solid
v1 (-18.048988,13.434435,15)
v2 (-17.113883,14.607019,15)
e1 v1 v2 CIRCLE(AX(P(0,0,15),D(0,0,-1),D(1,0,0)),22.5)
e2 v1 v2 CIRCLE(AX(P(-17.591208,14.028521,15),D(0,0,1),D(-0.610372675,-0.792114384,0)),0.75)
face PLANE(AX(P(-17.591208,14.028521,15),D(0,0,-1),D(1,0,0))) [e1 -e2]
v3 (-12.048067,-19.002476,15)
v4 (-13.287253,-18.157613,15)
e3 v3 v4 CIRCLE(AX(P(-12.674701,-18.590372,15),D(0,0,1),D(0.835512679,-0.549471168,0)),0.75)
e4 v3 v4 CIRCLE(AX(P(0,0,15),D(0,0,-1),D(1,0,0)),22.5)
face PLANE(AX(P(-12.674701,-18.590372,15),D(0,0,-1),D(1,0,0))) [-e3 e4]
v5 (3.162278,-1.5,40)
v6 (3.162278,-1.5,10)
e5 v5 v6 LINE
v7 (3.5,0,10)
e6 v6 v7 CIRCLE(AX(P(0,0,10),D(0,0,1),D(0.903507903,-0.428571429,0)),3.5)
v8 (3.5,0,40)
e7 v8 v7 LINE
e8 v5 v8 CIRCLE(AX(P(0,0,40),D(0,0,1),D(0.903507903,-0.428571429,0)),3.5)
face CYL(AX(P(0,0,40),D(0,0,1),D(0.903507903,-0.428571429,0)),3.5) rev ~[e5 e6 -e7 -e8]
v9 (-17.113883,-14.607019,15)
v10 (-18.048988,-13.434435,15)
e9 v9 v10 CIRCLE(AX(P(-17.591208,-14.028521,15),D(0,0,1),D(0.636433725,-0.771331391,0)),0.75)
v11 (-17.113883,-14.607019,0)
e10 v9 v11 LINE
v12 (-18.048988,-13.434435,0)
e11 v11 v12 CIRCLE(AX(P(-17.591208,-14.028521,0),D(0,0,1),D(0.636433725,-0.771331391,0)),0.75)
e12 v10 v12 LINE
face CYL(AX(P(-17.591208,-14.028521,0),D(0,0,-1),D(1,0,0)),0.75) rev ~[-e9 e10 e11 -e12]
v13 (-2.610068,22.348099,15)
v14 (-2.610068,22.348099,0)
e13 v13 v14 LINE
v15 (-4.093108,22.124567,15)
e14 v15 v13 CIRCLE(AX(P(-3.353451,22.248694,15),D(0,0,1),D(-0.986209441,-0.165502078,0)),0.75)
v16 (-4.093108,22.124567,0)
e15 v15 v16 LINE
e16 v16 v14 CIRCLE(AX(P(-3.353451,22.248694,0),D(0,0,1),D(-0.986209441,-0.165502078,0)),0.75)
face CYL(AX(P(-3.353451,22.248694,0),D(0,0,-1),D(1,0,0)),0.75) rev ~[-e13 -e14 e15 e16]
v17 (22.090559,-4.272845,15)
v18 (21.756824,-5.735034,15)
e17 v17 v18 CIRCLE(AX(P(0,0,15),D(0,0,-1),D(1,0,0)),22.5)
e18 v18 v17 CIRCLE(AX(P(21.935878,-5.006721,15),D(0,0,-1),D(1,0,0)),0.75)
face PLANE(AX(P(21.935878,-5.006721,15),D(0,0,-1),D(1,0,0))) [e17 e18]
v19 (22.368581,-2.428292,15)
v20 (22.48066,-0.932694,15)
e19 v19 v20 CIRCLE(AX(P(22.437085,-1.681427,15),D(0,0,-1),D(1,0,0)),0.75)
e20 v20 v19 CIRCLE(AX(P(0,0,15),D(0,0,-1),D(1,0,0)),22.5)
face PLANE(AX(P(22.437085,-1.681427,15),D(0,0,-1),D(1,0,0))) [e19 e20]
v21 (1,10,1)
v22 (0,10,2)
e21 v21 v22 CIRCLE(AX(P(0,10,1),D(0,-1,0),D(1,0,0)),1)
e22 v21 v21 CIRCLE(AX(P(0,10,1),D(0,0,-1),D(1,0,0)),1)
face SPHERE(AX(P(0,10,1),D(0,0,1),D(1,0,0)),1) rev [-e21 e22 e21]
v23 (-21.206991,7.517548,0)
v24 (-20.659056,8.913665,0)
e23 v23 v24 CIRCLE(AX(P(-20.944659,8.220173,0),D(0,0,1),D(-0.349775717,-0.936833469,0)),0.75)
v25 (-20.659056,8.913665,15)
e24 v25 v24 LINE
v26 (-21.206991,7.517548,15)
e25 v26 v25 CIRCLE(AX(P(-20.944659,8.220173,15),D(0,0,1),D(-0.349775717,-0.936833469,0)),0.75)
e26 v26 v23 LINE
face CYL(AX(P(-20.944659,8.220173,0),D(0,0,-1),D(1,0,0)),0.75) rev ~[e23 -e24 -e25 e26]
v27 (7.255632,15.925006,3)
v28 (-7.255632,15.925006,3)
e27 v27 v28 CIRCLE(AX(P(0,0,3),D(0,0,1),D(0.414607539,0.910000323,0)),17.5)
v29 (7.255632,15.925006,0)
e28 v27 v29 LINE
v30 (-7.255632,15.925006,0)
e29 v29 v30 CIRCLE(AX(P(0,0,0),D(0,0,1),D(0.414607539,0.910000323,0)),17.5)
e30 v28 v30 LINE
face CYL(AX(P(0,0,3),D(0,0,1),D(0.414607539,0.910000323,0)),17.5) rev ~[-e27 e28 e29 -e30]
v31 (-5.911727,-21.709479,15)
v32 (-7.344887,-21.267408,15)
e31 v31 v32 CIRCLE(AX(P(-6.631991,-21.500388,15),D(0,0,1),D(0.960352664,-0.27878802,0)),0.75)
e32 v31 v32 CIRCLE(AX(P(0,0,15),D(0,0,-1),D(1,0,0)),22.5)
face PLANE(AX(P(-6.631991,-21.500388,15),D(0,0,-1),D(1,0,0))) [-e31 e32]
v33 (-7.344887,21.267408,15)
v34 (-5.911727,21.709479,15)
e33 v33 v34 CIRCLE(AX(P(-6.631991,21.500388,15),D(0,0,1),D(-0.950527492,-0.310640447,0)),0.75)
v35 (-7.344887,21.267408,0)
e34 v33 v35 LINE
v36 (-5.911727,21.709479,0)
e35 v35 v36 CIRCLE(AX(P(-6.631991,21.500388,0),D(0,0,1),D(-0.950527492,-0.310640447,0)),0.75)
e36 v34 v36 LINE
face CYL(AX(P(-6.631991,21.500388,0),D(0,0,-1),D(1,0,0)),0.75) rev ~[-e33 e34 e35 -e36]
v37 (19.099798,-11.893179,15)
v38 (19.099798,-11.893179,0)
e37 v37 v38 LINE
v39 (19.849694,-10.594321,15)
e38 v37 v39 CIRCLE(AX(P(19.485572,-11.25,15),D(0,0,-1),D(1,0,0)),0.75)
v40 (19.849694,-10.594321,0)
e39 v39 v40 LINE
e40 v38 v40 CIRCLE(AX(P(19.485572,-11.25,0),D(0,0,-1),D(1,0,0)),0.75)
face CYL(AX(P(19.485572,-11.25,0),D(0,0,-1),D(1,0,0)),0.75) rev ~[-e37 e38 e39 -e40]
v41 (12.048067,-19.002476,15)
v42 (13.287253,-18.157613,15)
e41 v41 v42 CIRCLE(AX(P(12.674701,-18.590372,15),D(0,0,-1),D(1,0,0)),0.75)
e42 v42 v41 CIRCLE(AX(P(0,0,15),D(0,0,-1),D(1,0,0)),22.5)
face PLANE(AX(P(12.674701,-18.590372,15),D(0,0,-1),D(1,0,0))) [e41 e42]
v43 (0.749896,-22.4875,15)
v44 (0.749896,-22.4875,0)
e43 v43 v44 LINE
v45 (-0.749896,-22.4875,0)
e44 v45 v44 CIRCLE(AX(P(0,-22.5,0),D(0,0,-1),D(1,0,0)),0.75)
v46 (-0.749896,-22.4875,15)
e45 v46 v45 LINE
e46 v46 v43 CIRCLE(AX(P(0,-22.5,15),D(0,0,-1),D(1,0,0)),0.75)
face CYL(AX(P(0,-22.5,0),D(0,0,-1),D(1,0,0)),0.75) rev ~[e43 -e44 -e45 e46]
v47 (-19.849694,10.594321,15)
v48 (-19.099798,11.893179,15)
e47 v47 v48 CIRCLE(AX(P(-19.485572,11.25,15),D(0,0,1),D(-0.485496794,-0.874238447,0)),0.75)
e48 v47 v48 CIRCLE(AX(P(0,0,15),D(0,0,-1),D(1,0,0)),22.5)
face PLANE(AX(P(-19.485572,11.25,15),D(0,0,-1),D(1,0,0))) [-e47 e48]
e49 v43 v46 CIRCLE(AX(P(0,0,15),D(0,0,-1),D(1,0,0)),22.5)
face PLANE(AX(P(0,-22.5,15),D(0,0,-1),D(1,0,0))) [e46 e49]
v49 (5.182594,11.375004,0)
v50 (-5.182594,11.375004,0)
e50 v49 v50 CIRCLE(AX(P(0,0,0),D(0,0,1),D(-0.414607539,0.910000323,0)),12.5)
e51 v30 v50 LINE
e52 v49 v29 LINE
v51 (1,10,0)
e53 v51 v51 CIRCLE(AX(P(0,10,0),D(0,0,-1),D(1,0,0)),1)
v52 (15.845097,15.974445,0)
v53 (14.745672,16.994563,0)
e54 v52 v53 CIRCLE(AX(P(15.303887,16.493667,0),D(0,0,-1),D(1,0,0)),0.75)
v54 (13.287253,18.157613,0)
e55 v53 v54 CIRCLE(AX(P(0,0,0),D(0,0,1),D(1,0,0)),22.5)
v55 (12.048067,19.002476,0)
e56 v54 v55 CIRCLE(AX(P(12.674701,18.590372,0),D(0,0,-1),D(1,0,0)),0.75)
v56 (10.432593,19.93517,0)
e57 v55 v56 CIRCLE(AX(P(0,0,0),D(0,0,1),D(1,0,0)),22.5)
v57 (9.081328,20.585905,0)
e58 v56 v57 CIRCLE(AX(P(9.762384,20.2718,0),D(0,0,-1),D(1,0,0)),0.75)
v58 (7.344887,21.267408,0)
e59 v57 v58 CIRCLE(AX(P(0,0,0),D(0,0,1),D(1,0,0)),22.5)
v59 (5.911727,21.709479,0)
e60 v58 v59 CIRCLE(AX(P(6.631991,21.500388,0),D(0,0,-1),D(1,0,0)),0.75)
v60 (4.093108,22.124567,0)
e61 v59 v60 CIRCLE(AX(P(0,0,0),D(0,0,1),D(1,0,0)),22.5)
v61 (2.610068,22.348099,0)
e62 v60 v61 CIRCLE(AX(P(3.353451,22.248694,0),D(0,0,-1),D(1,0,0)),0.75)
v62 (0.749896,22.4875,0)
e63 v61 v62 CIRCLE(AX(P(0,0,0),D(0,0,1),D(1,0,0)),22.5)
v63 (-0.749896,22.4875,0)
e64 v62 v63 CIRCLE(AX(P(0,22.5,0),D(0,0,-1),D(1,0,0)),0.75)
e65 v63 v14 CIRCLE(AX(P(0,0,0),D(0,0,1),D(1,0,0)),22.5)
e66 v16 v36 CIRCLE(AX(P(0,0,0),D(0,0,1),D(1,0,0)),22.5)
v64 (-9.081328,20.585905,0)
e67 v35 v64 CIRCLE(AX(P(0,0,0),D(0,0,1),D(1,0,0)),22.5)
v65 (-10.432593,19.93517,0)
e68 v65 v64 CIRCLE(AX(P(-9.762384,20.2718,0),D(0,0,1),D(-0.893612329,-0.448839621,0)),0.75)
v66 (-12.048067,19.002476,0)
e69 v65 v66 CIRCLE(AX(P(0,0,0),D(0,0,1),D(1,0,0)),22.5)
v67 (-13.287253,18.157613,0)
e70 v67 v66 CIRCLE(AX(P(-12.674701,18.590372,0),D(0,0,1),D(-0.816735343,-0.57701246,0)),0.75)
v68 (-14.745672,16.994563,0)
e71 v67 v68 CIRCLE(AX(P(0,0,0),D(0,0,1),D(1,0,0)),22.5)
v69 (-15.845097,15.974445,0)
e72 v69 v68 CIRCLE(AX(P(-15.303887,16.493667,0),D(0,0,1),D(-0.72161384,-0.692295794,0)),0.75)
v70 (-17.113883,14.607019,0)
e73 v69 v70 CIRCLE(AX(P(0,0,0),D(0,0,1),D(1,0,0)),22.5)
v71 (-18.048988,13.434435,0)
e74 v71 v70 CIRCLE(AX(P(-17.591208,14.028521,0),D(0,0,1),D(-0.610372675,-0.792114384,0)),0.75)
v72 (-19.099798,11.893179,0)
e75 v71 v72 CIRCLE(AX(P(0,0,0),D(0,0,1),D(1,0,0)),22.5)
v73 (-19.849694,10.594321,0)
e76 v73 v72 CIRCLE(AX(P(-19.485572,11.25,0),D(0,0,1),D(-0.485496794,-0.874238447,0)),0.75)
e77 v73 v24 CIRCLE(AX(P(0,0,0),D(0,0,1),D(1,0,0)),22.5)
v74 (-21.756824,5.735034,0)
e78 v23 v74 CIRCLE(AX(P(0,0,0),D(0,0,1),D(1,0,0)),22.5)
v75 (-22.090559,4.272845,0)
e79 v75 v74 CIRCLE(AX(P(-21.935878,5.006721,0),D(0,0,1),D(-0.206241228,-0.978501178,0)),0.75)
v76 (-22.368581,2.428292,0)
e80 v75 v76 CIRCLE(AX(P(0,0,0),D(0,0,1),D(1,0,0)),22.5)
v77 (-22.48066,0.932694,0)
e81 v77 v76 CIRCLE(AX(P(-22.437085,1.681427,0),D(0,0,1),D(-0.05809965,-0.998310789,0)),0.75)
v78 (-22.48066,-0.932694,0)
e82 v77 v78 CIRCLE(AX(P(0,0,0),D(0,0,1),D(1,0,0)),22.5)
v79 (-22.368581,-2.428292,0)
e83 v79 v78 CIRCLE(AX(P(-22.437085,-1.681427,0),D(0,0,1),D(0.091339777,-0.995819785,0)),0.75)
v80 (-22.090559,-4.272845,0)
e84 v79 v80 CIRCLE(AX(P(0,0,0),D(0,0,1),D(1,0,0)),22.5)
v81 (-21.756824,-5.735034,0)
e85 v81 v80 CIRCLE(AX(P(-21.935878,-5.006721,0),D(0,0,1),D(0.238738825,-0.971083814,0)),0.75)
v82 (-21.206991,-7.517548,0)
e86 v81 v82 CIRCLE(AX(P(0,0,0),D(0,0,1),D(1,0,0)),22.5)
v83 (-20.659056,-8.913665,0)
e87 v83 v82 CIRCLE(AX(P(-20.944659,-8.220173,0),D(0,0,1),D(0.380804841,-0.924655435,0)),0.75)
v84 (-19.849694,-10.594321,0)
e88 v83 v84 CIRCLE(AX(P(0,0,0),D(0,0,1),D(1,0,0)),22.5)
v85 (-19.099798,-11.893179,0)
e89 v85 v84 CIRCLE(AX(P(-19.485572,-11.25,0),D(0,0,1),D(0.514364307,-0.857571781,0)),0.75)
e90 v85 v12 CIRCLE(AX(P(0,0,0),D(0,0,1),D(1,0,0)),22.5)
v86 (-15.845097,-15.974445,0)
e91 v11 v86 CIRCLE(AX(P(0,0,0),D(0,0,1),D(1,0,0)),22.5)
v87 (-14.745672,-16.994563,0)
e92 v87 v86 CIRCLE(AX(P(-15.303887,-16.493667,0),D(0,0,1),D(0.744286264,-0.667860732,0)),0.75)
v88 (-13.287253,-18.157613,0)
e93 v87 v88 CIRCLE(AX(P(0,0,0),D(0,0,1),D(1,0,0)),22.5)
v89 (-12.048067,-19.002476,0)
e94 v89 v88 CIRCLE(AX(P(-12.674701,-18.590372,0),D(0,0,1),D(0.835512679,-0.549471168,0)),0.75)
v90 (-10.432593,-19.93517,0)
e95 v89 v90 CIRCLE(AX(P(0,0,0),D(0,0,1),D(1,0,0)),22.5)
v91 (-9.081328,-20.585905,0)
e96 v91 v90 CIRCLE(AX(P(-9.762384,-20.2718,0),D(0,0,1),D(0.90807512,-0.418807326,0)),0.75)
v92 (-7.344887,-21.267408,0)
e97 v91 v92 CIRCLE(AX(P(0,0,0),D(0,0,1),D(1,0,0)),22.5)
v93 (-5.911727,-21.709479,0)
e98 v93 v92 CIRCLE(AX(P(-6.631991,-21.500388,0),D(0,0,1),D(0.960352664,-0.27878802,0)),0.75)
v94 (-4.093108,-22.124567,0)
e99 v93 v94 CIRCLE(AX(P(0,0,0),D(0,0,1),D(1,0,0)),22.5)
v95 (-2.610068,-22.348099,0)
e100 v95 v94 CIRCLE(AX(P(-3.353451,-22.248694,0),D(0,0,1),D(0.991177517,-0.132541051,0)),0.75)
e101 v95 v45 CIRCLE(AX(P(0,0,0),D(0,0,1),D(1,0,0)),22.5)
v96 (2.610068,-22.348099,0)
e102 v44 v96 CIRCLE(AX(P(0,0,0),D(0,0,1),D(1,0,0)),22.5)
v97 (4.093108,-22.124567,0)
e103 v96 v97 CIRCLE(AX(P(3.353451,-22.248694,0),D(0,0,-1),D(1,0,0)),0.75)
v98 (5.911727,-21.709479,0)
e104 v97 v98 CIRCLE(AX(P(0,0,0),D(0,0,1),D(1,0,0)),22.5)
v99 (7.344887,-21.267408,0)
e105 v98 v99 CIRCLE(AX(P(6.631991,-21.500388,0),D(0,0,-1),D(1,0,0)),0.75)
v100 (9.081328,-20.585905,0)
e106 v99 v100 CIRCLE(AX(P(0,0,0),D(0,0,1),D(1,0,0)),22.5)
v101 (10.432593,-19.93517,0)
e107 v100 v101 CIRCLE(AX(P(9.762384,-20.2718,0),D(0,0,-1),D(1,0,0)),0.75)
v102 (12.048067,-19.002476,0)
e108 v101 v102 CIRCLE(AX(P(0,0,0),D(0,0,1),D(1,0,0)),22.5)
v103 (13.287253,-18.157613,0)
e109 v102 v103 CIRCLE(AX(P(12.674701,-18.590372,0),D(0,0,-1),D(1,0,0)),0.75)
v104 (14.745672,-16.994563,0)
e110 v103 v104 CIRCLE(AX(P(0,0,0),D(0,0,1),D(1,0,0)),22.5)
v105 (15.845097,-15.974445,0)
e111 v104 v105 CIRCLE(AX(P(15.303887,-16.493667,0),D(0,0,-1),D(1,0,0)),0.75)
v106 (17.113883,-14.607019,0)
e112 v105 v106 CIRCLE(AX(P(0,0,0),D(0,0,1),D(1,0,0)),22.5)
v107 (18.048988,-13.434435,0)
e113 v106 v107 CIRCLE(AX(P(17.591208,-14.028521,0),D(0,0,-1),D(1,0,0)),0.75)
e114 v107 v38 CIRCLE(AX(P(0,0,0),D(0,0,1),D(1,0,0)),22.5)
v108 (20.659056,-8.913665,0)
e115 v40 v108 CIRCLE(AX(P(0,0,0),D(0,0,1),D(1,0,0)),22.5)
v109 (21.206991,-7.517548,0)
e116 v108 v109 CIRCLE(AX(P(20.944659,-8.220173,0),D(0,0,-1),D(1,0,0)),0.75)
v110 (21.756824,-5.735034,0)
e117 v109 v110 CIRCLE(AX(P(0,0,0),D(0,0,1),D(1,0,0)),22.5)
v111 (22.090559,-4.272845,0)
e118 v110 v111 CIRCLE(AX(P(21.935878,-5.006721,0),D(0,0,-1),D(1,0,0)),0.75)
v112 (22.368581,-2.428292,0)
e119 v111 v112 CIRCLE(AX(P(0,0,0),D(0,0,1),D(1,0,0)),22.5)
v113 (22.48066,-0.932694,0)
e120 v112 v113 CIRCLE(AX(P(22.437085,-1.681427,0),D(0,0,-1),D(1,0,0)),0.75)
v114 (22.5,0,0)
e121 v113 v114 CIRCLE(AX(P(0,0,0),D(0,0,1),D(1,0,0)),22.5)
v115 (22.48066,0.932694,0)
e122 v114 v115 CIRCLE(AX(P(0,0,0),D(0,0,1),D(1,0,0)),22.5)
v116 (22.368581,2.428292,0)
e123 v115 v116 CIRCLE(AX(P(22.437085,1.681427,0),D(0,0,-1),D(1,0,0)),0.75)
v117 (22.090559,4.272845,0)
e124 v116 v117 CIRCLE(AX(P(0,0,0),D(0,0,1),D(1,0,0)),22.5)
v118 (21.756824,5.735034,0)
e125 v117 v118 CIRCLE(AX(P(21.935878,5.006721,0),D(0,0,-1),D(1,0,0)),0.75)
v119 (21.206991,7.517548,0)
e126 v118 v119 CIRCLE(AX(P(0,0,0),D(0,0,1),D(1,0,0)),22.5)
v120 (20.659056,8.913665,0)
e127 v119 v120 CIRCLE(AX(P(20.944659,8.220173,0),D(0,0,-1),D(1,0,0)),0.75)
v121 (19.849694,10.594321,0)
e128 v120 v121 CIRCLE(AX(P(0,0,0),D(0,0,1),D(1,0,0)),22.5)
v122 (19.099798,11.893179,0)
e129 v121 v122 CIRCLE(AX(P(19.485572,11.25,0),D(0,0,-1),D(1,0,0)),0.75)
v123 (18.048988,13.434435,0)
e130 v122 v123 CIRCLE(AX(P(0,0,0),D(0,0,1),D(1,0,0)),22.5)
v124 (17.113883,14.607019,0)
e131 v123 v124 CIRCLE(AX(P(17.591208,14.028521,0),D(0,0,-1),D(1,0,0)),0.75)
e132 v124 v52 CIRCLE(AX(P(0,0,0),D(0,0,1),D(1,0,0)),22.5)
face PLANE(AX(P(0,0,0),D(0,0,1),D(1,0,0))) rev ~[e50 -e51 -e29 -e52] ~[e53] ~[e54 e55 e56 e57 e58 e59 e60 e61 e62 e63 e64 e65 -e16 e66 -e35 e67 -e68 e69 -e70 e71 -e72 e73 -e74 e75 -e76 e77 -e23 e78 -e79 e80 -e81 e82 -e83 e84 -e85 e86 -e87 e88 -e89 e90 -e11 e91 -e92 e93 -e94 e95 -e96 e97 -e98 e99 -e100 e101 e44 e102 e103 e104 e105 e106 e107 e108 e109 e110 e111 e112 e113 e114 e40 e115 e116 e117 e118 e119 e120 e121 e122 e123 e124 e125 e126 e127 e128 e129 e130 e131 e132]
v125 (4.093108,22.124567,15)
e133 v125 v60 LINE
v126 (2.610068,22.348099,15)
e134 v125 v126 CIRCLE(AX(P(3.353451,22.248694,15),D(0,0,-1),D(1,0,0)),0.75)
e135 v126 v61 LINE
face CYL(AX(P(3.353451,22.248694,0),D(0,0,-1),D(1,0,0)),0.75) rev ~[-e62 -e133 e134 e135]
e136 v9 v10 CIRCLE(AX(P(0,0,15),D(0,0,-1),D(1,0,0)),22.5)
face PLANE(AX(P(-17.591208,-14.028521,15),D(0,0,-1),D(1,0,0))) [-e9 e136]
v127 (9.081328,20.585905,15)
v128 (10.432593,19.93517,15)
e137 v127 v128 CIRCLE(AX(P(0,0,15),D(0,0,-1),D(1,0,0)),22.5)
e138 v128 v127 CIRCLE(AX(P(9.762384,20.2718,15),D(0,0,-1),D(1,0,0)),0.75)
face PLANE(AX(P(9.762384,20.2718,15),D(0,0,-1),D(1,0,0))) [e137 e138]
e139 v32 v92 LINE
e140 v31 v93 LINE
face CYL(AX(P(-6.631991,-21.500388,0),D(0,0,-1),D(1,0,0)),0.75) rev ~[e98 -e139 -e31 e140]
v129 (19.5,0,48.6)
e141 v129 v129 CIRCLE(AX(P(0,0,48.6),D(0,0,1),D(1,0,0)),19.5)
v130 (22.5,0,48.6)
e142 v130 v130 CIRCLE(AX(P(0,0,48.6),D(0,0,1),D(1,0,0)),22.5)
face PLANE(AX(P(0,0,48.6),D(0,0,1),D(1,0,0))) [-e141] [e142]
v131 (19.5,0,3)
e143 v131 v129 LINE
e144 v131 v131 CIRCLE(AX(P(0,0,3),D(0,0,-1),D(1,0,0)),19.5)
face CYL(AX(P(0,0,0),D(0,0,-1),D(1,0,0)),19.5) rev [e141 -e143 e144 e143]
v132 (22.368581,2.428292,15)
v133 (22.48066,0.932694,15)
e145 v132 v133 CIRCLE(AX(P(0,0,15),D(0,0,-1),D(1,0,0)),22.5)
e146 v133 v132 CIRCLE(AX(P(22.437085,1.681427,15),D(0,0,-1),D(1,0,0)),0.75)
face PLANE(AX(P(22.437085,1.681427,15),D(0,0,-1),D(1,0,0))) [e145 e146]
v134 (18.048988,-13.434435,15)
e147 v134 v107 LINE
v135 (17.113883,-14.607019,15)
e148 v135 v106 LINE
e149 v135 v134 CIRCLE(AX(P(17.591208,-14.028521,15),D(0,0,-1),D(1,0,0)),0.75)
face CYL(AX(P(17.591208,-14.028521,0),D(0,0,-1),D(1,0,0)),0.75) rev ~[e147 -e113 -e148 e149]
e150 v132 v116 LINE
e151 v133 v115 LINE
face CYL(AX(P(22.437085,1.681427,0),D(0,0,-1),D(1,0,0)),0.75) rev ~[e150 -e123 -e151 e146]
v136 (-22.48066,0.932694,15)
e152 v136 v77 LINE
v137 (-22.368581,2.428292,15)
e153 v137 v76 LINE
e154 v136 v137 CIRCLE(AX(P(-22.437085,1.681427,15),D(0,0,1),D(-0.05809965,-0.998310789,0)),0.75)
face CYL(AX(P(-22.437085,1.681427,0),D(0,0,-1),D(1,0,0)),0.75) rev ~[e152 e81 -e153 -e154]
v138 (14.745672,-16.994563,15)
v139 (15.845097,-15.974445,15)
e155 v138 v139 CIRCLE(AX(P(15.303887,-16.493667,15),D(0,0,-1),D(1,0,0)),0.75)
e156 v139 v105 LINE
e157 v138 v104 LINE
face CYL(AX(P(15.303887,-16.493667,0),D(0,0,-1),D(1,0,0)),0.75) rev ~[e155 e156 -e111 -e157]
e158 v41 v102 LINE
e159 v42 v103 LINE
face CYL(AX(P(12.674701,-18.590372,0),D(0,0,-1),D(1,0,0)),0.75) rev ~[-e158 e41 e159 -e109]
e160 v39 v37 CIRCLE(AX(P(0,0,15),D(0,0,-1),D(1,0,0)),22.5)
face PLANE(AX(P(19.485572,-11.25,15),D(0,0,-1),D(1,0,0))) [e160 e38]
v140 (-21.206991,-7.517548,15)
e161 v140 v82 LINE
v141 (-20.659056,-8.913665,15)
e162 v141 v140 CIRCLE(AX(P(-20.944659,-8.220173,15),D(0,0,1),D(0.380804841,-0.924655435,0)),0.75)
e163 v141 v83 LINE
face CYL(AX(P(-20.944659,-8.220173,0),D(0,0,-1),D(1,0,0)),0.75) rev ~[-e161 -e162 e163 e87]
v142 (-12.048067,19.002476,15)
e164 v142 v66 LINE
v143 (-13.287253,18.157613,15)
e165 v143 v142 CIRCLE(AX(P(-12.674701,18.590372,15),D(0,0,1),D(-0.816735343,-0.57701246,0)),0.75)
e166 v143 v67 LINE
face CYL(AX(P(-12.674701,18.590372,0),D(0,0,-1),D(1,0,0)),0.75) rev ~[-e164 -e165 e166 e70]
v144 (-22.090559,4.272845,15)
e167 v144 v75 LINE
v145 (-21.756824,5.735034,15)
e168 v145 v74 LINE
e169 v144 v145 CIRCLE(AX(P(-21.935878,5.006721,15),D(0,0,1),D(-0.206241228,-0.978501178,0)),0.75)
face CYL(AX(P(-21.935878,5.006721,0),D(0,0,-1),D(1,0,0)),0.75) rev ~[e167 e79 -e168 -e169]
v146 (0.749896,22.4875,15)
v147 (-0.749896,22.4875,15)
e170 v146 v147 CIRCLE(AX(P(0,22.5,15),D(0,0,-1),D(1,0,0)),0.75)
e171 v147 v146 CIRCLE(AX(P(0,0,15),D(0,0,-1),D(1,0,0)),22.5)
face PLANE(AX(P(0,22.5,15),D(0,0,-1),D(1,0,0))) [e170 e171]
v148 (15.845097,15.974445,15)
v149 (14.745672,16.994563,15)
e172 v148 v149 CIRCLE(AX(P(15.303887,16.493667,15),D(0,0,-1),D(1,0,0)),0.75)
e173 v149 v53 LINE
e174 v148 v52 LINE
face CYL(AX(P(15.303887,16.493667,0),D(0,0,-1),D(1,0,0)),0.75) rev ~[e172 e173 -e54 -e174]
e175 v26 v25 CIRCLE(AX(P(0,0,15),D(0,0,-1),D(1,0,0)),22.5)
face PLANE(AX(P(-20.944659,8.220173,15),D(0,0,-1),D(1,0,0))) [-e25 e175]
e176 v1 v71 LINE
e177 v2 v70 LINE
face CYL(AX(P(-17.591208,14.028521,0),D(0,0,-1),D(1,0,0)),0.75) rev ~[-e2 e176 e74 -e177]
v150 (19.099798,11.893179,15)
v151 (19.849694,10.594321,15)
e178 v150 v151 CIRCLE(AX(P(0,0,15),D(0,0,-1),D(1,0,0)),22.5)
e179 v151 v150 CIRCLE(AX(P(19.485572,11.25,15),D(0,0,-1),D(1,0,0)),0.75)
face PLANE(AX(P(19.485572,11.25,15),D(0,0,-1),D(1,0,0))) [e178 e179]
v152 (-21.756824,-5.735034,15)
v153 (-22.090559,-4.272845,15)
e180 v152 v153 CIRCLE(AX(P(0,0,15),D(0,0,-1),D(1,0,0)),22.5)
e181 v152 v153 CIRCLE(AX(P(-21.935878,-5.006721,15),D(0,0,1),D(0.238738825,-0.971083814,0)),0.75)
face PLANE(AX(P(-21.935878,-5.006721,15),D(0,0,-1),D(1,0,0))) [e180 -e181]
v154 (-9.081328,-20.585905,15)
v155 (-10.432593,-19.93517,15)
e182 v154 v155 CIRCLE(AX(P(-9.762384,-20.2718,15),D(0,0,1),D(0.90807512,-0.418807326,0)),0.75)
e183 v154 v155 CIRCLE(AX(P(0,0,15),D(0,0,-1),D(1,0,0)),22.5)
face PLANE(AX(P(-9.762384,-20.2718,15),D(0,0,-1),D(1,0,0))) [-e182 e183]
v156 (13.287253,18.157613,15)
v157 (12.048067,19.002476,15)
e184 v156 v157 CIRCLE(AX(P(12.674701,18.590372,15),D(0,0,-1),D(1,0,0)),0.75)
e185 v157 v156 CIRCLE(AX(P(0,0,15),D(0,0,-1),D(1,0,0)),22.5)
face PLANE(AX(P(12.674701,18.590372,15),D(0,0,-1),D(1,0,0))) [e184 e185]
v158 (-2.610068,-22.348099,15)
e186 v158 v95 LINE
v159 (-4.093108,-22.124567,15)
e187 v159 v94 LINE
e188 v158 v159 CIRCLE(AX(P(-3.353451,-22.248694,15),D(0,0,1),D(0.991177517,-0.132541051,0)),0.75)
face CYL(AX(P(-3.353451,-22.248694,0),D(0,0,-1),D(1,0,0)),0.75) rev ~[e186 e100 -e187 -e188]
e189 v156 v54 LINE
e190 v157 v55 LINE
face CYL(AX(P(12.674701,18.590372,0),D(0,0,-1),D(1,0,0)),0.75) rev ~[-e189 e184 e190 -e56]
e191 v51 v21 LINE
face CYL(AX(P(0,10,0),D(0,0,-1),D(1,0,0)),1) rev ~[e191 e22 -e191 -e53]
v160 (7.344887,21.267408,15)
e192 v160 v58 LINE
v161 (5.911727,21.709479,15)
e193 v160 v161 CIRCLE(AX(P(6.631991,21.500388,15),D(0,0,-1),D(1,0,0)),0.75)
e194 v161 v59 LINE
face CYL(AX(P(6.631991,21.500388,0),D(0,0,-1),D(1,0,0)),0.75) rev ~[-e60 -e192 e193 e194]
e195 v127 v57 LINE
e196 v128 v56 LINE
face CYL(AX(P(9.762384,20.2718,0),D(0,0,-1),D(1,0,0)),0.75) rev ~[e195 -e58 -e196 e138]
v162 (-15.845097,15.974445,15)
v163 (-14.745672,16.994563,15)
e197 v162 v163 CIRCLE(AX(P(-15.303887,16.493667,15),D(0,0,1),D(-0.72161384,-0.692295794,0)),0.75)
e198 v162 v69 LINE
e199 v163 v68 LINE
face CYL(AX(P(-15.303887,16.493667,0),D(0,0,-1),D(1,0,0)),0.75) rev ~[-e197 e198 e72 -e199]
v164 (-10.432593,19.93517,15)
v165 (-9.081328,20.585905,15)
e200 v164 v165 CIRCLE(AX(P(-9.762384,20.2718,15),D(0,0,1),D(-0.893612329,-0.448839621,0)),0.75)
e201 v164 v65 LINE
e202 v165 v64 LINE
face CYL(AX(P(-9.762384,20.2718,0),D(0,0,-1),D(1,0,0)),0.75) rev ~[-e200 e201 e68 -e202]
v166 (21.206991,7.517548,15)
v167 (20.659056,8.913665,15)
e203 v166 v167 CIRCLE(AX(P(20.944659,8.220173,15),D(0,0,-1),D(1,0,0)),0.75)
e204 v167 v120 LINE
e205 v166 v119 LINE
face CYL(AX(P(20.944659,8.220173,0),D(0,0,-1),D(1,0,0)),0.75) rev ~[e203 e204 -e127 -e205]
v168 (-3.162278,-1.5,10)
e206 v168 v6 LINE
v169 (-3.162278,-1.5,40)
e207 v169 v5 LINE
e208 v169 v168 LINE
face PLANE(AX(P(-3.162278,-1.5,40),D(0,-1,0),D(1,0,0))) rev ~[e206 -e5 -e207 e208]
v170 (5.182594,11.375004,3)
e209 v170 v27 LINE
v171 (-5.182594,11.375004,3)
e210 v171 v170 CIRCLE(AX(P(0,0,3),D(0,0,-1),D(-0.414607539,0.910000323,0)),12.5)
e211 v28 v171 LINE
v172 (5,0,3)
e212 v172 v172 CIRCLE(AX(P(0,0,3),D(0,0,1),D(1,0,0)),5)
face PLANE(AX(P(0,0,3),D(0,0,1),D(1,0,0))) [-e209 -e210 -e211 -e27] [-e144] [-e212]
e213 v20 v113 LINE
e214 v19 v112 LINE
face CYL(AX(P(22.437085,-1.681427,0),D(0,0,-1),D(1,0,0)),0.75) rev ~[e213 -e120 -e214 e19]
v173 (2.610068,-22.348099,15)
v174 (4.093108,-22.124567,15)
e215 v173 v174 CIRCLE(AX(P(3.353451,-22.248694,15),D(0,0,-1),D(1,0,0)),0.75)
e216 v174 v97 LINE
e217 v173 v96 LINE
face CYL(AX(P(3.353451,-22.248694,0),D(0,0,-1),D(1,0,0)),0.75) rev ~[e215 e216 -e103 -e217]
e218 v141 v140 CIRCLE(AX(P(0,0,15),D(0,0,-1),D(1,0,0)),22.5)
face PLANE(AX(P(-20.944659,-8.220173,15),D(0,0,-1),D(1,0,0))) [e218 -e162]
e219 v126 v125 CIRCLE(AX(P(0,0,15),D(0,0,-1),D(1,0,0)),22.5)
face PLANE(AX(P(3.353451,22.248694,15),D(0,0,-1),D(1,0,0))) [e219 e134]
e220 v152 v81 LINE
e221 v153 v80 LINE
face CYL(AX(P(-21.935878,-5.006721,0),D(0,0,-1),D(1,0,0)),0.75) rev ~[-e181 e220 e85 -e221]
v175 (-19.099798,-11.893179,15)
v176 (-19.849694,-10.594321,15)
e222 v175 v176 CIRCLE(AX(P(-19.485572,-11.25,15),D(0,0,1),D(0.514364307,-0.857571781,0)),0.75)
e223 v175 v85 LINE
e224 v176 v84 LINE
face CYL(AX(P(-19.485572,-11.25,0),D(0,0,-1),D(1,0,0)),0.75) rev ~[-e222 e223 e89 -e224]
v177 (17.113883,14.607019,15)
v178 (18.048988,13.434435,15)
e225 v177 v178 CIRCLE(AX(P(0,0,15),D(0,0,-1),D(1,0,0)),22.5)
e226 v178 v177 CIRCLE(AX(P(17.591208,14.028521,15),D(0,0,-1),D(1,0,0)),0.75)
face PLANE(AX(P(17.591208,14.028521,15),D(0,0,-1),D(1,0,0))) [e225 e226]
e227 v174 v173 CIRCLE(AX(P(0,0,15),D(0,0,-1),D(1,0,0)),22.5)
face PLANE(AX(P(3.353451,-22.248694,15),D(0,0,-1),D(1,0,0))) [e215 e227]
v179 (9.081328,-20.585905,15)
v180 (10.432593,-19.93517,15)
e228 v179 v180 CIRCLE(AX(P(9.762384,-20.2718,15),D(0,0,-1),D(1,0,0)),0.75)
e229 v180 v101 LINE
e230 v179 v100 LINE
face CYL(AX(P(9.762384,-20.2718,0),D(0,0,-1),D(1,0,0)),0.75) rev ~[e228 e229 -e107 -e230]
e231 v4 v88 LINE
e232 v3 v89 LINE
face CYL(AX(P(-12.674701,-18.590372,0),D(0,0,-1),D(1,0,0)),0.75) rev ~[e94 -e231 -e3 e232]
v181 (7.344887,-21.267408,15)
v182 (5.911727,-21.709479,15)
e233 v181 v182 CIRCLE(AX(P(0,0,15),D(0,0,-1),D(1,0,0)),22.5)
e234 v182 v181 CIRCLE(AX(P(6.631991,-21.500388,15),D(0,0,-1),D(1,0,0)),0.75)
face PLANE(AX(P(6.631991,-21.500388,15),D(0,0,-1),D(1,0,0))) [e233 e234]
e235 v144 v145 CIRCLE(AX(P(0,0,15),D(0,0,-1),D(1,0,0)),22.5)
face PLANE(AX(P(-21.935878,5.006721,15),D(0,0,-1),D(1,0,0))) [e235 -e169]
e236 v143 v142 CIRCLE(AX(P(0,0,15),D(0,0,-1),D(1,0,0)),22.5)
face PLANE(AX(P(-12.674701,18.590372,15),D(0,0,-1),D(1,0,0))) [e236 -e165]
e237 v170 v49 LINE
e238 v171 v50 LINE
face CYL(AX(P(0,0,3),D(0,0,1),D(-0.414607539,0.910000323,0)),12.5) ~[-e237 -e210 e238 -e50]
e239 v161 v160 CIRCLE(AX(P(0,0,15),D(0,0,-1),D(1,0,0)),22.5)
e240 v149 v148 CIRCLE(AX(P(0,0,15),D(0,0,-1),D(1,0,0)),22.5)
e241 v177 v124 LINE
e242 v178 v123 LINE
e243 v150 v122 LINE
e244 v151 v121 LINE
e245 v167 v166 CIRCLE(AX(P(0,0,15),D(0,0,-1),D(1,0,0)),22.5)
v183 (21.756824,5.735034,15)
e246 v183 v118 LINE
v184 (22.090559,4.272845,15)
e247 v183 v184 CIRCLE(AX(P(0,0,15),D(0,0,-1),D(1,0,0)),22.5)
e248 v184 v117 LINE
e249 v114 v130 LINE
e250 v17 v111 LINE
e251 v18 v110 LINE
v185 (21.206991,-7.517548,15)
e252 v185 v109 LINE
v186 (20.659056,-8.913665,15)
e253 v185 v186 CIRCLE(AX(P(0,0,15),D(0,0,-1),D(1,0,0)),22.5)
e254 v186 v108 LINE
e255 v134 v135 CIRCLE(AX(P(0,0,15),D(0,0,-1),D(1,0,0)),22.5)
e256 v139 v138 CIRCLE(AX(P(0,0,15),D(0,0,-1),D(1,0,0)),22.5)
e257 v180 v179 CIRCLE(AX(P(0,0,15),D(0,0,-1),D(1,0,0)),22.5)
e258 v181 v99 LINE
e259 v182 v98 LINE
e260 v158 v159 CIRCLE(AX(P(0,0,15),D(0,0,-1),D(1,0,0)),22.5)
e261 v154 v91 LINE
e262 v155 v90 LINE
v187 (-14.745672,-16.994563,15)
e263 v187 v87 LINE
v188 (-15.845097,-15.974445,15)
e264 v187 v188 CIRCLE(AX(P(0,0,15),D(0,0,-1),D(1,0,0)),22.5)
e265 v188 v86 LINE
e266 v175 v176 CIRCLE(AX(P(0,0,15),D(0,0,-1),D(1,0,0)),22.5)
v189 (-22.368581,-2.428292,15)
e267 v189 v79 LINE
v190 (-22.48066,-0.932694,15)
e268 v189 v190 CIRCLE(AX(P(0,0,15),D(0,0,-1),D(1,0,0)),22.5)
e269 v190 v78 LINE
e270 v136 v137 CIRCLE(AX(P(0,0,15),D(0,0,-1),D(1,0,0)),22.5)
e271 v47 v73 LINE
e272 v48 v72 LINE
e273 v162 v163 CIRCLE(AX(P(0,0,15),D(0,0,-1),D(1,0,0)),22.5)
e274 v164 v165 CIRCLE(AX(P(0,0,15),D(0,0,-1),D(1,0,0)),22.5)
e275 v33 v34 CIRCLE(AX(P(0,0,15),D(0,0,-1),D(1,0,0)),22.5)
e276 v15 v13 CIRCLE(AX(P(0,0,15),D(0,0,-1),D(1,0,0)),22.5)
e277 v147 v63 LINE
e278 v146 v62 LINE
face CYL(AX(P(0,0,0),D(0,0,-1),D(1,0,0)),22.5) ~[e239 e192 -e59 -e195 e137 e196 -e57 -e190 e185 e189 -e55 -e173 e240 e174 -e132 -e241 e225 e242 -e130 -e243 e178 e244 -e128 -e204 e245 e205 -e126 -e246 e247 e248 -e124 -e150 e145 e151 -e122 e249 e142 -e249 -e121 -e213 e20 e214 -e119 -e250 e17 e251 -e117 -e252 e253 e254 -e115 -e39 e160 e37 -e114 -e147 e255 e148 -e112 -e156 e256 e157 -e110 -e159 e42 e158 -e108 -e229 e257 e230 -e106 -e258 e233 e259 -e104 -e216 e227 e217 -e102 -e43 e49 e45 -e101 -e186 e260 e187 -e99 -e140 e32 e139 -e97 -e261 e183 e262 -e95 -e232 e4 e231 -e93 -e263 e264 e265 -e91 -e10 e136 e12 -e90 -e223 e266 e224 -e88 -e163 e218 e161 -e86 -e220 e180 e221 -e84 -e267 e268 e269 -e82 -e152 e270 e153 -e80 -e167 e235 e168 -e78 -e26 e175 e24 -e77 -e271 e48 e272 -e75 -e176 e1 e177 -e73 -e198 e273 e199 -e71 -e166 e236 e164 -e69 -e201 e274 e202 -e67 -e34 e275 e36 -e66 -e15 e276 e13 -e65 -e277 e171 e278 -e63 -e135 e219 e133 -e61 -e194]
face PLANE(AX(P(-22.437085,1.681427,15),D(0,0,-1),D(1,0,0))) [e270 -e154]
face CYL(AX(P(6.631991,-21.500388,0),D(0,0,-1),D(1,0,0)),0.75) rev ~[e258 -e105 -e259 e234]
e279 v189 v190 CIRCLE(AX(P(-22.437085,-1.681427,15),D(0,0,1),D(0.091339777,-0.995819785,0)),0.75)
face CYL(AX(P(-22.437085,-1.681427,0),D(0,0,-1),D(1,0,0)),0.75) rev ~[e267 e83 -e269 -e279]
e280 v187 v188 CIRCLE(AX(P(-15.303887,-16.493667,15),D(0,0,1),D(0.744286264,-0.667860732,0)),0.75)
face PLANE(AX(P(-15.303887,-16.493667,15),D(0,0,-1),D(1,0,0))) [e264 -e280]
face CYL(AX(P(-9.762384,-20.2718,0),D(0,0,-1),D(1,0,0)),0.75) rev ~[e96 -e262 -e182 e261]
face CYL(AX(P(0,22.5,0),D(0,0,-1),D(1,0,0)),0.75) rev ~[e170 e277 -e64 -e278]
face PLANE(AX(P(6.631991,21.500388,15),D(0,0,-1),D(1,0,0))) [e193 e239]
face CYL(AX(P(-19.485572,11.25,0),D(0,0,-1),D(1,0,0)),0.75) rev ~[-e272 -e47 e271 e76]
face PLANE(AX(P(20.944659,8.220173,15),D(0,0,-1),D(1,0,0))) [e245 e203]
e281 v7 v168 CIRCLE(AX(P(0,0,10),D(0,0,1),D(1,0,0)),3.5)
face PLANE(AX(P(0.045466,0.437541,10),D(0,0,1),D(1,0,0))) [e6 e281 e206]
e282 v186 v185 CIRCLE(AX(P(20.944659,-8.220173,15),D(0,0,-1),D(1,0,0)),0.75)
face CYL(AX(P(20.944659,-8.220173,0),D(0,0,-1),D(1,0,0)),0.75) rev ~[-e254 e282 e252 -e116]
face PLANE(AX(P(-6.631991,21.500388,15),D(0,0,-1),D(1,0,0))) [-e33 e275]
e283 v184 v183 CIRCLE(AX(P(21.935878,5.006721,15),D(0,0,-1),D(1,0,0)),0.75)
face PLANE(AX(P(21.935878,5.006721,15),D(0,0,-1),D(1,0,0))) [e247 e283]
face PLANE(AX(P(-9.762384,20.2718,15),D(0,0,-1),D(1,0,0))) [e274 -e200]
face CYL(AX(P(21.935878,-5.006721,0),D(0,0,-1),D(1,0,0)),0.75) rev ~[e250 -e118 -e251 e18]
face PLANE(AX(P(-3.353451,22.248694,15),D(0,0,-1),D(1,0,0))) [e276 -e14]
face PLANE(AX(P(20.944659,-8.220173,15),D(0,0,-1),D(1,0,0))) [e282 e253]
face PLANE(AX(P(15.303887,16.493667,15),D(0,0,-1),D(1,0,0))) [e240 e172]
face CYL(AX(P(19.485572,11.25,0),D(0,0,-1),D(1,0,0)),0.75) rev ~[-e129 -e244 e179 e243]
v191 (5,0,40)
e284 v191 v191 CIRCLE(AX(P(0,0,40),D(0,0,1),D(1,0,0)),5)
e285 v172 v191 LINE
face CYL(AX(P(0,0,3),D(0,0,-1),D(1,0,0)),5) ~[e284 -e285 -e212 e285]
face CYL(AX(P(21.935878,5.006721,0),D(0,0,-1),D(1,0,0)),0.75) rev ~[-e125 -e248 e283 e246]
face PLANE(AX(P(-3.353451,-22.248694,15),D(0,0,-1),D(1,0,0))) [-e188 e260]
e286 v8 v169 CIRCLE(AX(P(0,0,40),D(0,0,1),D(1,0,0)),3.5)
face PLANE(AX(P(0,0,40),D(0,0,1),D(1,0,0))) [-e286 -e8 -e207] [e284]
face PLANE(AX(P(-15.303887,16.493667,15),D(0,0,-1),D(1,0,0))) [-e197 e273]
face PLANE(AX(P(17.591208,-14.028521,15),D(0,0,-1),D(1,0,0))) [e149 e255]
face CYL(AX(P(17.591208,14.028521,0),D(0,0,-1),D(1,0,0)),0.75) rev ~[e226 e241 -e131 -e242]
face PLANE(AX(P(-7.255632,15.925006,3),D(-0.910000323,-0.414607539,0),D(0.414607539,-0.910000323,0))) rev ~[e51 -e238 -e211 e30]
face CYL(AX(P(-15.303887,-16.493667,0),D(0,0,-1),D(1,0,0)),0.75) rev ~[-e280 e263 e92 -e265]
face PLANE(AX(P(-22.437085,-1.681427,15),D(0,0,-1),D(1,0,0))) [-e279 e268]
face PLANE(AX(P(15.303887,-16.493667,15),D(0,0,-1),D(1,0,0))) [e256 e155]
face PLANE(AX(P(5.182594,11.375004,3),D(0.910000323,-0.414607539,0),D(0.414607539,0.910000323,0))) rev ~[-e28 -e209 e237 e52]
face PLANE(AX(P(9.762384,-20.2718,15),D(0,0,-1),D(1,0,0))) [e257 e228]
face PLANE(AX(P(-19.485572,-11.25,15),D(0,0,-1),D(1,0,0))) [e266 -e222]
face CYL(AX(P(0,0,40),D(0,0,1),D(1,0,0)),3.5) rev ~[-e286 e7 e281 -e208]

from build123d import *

# Parameters (mm, degrees)
F10_R     = 22.5
F0_DEPTH  = 48.6
F1_T      = -3
F2_R      = 5
F3_DEPTH  = 37
F11_DEPTH = 30
F5_DEPTH  = 25
F13_R     = 1
F6_DEPTH  = 2
F7_R      = 1
F8_R      = 0.75
F9_DEPTH  = 15


with BuildPart() as f0:
    # F10 (on Top) → F0 (new body)
    with BuildSketch(Plane.XY):
        Circle(F10_R)
    extrude(amount=F0_DEPTH)

    # F1
    f1_openings = [f0.faces().sort_by_distance(p)[0] for p in [
        (0, 0, 48.6),
    ]]
    offset(amount=F1_T, openings=f1_openings)

    # F2 (on face) → F3 (join)
    with BuildSketch(Plane.XY.offset(3)):
        Circle(F2_R)
    extrude(amount=F3_DEPTH)

    # F4 (on face) → F11 (cut)
    with BuildSketch(Plane.XY.offset(40)):
        with BuildLine():
            ThreePointArc((3.1622776602, -1.5), (3.4145257219, -0.7687744108), (3.5, 0))
            ThreePointArc((3.5, 0), (-0.7687744108, 3.4145257219), (-3.1622776602, -1.5))
            Line((-3.1622776602, -1.5), (3.1622776602, -1.5))
        make_face()
    extrude(amount=-F11_DEPTH, mode=Mode.SUBTRACT)

    # F12 (on face) → F5 (cut)
    with BuildSketch(Plane.XY.offset(3)):
        with BuildLine():
            Line((5.1825942436, 11.3750040398), (7.255631941, 15.9250056558))
            Line((7.255631941, 15.9250056558), (-7.255631941, 15.9250056558))
            Line((-7.255631941, 15.9250056558), (-5.1825942436, 11.3750040398))
            ThreePointArc((-5.1825942436, 11.3750040398), (0, 12.5), (5.1825942436, 11.3750040398))
        make_face()
        with BuildLine():
            Line((-7.255631941, 15.9250056558), (7.255631941, 15.9250056558))
            ThreePointArc((7.255631941, 15.9250056558), (0, 17.5), (-7.255631941, 15.9250056558))
        make_face()
    extrude(amount=-F5_DEPTH, mode=Mode.SUBTRACT)

    # F13 (on face) → F6 (cut)
    with BuildSketch(Plane(origin=(0, 0, 0), x_dir=(1, 0, 0), z_dir=(0, 0, -1))):
        with Locations((0, -10)):
            Circle(F13_R)
    extrude(amount=-F6_DEPTH, mode=Mode.SUBTRACT)

    # F7
    f7_edges = [f0.edges().sort_by_distance(p)[0] for p in [
        (-1, 10, 2),
    ]]
    fillet(f7_edges, radius=F7_R)

    # F8 (on face) → F9 (cut)
    with BuildSketch(Plane(origin=(0, 0, 0), x_dir=(1, 0, 0), z_dir=(0, 0, -1))):
        with Locations((0, -22.5)):
            Circle(F8_R)
        with Locations((3.353450989, -22.2486935901)):
            Circle(F8_R)
        with Locations((6.6319914242, -21.5003881302)):
            Circle(F8_R)
        with Locations((9.7623841301, -20.2717995278)):
            Circle(F8_R)
        with Locations((12.6747013064, -18.5903724221)):
            Circle(F8_R)
        with Locations((15.3038865998, -16.4936671162)):
            Circle(F8_R)
        with Locations((17.5912083555, -14.0285205418)):
            Circle(F8_R)
        with Locations((19.4855715851, -11.25)):
            Circle(F8_R)
        with Locations((20.9446593445, -8.2201730482)):
            Circle(F8_R)
        with Locations((21.9358780241, -5.006721014)):
            Circle(F8_R)
        with Locations((22.4370854366, -1.6814271057)):
            Circle(F8_R)
        with Locations((22.4370854366, 1.6814271057)):
            Circle(F8_R)
        with Locations((21.9358780241, 5.006721014)):
            Circle(F8_R)
        with Locations((20.9446593445, 8.2201730482)):
            Circle(F8_R)
        with Locations((19.4855715851, 11.25)):
            Circle(F8_R)
        with Locations((17.5912083555, 14.0285205418)):
            Circle(F8_R)
        with Locations((15.3038865998, 16.4936671162)):
            Circle(F8_R)
        with Locations((12.6747013064, 18.5903724221)):
            Circle(F8_R)
        with Locations((9.7623841301, 20.2717995278)):
            Circle(F8_R)
        with Locations((6.6319914242, 21.5003881302)):
            Circle(F8_R)
        with Locations((3.353450989, 22.2486935901)):
            Circle(F8_R)
        with Locations((0, 22.5)):
            Circle(F8_R)
        with Locations((-3.353450989, 22.2486935901)):
            Circle(F8_R)
        with Locations((-6.6319914242, 21.5003881302)):
            Circle(F8_R)
        with Locations((-9.7623841301, 20.2717995278)):
            Circle(F8_R)
        with Locations((-12.6747013064, 18.5903724221)):
            Circle(F8_R)
        with Locations((-15.3038865998, 16.4936671162)):
            Circle(F8_R)
        with Locations((-17.5912083555, 14.0285205418)):
            Circle(F8_R)
        with Locations((-19.4855715851, 11.25)):
            Circle(F8_R)
        with Locations((-20.9446593445, 8.2201730482)):
            Circle(F8_R)
        with Locations((-21.9358780241, 5.006721014)):
            Circle(F8_R)
        with Locations((-22.4370854366, 1.6814271057)):
            Circle(F8_R)
        with Locations((-22.4370854366, -1.6814271057)):
            Circle(F8_R)
        with Locations((-21.9358780241, -5.006721014)):
            Circle(F8_R)
        with Locations((-20.9446593445, -8.2201730482)):
            Circle(F8_R)
        with Locations((-19.4855715851, -11.25)):
            Circle(F8_R)
        with Locations((-17.5912083555, -14.0285205418)):
            Circle(F8_R)
        with Locations((-15.3038865998, -16.4936671162)):
            Circle(F8_R)
        with Locations((-12.6747013064, -18.5903724221)):
            Circle(F8_R)
        with Locations((-9.7623841301, -20.2717995278)):
            Circle(F8_R)
        with Locations((-6.6319914242, -21.5003881302)):
            Circle(F8_R)
        with Locations((-3.353450989, -22.2486935901)):
            Circle(F8_R)
    extrude(amount=-F9_DEPTH, mode=Mode.SUBTRACT)


solid = f0.part
